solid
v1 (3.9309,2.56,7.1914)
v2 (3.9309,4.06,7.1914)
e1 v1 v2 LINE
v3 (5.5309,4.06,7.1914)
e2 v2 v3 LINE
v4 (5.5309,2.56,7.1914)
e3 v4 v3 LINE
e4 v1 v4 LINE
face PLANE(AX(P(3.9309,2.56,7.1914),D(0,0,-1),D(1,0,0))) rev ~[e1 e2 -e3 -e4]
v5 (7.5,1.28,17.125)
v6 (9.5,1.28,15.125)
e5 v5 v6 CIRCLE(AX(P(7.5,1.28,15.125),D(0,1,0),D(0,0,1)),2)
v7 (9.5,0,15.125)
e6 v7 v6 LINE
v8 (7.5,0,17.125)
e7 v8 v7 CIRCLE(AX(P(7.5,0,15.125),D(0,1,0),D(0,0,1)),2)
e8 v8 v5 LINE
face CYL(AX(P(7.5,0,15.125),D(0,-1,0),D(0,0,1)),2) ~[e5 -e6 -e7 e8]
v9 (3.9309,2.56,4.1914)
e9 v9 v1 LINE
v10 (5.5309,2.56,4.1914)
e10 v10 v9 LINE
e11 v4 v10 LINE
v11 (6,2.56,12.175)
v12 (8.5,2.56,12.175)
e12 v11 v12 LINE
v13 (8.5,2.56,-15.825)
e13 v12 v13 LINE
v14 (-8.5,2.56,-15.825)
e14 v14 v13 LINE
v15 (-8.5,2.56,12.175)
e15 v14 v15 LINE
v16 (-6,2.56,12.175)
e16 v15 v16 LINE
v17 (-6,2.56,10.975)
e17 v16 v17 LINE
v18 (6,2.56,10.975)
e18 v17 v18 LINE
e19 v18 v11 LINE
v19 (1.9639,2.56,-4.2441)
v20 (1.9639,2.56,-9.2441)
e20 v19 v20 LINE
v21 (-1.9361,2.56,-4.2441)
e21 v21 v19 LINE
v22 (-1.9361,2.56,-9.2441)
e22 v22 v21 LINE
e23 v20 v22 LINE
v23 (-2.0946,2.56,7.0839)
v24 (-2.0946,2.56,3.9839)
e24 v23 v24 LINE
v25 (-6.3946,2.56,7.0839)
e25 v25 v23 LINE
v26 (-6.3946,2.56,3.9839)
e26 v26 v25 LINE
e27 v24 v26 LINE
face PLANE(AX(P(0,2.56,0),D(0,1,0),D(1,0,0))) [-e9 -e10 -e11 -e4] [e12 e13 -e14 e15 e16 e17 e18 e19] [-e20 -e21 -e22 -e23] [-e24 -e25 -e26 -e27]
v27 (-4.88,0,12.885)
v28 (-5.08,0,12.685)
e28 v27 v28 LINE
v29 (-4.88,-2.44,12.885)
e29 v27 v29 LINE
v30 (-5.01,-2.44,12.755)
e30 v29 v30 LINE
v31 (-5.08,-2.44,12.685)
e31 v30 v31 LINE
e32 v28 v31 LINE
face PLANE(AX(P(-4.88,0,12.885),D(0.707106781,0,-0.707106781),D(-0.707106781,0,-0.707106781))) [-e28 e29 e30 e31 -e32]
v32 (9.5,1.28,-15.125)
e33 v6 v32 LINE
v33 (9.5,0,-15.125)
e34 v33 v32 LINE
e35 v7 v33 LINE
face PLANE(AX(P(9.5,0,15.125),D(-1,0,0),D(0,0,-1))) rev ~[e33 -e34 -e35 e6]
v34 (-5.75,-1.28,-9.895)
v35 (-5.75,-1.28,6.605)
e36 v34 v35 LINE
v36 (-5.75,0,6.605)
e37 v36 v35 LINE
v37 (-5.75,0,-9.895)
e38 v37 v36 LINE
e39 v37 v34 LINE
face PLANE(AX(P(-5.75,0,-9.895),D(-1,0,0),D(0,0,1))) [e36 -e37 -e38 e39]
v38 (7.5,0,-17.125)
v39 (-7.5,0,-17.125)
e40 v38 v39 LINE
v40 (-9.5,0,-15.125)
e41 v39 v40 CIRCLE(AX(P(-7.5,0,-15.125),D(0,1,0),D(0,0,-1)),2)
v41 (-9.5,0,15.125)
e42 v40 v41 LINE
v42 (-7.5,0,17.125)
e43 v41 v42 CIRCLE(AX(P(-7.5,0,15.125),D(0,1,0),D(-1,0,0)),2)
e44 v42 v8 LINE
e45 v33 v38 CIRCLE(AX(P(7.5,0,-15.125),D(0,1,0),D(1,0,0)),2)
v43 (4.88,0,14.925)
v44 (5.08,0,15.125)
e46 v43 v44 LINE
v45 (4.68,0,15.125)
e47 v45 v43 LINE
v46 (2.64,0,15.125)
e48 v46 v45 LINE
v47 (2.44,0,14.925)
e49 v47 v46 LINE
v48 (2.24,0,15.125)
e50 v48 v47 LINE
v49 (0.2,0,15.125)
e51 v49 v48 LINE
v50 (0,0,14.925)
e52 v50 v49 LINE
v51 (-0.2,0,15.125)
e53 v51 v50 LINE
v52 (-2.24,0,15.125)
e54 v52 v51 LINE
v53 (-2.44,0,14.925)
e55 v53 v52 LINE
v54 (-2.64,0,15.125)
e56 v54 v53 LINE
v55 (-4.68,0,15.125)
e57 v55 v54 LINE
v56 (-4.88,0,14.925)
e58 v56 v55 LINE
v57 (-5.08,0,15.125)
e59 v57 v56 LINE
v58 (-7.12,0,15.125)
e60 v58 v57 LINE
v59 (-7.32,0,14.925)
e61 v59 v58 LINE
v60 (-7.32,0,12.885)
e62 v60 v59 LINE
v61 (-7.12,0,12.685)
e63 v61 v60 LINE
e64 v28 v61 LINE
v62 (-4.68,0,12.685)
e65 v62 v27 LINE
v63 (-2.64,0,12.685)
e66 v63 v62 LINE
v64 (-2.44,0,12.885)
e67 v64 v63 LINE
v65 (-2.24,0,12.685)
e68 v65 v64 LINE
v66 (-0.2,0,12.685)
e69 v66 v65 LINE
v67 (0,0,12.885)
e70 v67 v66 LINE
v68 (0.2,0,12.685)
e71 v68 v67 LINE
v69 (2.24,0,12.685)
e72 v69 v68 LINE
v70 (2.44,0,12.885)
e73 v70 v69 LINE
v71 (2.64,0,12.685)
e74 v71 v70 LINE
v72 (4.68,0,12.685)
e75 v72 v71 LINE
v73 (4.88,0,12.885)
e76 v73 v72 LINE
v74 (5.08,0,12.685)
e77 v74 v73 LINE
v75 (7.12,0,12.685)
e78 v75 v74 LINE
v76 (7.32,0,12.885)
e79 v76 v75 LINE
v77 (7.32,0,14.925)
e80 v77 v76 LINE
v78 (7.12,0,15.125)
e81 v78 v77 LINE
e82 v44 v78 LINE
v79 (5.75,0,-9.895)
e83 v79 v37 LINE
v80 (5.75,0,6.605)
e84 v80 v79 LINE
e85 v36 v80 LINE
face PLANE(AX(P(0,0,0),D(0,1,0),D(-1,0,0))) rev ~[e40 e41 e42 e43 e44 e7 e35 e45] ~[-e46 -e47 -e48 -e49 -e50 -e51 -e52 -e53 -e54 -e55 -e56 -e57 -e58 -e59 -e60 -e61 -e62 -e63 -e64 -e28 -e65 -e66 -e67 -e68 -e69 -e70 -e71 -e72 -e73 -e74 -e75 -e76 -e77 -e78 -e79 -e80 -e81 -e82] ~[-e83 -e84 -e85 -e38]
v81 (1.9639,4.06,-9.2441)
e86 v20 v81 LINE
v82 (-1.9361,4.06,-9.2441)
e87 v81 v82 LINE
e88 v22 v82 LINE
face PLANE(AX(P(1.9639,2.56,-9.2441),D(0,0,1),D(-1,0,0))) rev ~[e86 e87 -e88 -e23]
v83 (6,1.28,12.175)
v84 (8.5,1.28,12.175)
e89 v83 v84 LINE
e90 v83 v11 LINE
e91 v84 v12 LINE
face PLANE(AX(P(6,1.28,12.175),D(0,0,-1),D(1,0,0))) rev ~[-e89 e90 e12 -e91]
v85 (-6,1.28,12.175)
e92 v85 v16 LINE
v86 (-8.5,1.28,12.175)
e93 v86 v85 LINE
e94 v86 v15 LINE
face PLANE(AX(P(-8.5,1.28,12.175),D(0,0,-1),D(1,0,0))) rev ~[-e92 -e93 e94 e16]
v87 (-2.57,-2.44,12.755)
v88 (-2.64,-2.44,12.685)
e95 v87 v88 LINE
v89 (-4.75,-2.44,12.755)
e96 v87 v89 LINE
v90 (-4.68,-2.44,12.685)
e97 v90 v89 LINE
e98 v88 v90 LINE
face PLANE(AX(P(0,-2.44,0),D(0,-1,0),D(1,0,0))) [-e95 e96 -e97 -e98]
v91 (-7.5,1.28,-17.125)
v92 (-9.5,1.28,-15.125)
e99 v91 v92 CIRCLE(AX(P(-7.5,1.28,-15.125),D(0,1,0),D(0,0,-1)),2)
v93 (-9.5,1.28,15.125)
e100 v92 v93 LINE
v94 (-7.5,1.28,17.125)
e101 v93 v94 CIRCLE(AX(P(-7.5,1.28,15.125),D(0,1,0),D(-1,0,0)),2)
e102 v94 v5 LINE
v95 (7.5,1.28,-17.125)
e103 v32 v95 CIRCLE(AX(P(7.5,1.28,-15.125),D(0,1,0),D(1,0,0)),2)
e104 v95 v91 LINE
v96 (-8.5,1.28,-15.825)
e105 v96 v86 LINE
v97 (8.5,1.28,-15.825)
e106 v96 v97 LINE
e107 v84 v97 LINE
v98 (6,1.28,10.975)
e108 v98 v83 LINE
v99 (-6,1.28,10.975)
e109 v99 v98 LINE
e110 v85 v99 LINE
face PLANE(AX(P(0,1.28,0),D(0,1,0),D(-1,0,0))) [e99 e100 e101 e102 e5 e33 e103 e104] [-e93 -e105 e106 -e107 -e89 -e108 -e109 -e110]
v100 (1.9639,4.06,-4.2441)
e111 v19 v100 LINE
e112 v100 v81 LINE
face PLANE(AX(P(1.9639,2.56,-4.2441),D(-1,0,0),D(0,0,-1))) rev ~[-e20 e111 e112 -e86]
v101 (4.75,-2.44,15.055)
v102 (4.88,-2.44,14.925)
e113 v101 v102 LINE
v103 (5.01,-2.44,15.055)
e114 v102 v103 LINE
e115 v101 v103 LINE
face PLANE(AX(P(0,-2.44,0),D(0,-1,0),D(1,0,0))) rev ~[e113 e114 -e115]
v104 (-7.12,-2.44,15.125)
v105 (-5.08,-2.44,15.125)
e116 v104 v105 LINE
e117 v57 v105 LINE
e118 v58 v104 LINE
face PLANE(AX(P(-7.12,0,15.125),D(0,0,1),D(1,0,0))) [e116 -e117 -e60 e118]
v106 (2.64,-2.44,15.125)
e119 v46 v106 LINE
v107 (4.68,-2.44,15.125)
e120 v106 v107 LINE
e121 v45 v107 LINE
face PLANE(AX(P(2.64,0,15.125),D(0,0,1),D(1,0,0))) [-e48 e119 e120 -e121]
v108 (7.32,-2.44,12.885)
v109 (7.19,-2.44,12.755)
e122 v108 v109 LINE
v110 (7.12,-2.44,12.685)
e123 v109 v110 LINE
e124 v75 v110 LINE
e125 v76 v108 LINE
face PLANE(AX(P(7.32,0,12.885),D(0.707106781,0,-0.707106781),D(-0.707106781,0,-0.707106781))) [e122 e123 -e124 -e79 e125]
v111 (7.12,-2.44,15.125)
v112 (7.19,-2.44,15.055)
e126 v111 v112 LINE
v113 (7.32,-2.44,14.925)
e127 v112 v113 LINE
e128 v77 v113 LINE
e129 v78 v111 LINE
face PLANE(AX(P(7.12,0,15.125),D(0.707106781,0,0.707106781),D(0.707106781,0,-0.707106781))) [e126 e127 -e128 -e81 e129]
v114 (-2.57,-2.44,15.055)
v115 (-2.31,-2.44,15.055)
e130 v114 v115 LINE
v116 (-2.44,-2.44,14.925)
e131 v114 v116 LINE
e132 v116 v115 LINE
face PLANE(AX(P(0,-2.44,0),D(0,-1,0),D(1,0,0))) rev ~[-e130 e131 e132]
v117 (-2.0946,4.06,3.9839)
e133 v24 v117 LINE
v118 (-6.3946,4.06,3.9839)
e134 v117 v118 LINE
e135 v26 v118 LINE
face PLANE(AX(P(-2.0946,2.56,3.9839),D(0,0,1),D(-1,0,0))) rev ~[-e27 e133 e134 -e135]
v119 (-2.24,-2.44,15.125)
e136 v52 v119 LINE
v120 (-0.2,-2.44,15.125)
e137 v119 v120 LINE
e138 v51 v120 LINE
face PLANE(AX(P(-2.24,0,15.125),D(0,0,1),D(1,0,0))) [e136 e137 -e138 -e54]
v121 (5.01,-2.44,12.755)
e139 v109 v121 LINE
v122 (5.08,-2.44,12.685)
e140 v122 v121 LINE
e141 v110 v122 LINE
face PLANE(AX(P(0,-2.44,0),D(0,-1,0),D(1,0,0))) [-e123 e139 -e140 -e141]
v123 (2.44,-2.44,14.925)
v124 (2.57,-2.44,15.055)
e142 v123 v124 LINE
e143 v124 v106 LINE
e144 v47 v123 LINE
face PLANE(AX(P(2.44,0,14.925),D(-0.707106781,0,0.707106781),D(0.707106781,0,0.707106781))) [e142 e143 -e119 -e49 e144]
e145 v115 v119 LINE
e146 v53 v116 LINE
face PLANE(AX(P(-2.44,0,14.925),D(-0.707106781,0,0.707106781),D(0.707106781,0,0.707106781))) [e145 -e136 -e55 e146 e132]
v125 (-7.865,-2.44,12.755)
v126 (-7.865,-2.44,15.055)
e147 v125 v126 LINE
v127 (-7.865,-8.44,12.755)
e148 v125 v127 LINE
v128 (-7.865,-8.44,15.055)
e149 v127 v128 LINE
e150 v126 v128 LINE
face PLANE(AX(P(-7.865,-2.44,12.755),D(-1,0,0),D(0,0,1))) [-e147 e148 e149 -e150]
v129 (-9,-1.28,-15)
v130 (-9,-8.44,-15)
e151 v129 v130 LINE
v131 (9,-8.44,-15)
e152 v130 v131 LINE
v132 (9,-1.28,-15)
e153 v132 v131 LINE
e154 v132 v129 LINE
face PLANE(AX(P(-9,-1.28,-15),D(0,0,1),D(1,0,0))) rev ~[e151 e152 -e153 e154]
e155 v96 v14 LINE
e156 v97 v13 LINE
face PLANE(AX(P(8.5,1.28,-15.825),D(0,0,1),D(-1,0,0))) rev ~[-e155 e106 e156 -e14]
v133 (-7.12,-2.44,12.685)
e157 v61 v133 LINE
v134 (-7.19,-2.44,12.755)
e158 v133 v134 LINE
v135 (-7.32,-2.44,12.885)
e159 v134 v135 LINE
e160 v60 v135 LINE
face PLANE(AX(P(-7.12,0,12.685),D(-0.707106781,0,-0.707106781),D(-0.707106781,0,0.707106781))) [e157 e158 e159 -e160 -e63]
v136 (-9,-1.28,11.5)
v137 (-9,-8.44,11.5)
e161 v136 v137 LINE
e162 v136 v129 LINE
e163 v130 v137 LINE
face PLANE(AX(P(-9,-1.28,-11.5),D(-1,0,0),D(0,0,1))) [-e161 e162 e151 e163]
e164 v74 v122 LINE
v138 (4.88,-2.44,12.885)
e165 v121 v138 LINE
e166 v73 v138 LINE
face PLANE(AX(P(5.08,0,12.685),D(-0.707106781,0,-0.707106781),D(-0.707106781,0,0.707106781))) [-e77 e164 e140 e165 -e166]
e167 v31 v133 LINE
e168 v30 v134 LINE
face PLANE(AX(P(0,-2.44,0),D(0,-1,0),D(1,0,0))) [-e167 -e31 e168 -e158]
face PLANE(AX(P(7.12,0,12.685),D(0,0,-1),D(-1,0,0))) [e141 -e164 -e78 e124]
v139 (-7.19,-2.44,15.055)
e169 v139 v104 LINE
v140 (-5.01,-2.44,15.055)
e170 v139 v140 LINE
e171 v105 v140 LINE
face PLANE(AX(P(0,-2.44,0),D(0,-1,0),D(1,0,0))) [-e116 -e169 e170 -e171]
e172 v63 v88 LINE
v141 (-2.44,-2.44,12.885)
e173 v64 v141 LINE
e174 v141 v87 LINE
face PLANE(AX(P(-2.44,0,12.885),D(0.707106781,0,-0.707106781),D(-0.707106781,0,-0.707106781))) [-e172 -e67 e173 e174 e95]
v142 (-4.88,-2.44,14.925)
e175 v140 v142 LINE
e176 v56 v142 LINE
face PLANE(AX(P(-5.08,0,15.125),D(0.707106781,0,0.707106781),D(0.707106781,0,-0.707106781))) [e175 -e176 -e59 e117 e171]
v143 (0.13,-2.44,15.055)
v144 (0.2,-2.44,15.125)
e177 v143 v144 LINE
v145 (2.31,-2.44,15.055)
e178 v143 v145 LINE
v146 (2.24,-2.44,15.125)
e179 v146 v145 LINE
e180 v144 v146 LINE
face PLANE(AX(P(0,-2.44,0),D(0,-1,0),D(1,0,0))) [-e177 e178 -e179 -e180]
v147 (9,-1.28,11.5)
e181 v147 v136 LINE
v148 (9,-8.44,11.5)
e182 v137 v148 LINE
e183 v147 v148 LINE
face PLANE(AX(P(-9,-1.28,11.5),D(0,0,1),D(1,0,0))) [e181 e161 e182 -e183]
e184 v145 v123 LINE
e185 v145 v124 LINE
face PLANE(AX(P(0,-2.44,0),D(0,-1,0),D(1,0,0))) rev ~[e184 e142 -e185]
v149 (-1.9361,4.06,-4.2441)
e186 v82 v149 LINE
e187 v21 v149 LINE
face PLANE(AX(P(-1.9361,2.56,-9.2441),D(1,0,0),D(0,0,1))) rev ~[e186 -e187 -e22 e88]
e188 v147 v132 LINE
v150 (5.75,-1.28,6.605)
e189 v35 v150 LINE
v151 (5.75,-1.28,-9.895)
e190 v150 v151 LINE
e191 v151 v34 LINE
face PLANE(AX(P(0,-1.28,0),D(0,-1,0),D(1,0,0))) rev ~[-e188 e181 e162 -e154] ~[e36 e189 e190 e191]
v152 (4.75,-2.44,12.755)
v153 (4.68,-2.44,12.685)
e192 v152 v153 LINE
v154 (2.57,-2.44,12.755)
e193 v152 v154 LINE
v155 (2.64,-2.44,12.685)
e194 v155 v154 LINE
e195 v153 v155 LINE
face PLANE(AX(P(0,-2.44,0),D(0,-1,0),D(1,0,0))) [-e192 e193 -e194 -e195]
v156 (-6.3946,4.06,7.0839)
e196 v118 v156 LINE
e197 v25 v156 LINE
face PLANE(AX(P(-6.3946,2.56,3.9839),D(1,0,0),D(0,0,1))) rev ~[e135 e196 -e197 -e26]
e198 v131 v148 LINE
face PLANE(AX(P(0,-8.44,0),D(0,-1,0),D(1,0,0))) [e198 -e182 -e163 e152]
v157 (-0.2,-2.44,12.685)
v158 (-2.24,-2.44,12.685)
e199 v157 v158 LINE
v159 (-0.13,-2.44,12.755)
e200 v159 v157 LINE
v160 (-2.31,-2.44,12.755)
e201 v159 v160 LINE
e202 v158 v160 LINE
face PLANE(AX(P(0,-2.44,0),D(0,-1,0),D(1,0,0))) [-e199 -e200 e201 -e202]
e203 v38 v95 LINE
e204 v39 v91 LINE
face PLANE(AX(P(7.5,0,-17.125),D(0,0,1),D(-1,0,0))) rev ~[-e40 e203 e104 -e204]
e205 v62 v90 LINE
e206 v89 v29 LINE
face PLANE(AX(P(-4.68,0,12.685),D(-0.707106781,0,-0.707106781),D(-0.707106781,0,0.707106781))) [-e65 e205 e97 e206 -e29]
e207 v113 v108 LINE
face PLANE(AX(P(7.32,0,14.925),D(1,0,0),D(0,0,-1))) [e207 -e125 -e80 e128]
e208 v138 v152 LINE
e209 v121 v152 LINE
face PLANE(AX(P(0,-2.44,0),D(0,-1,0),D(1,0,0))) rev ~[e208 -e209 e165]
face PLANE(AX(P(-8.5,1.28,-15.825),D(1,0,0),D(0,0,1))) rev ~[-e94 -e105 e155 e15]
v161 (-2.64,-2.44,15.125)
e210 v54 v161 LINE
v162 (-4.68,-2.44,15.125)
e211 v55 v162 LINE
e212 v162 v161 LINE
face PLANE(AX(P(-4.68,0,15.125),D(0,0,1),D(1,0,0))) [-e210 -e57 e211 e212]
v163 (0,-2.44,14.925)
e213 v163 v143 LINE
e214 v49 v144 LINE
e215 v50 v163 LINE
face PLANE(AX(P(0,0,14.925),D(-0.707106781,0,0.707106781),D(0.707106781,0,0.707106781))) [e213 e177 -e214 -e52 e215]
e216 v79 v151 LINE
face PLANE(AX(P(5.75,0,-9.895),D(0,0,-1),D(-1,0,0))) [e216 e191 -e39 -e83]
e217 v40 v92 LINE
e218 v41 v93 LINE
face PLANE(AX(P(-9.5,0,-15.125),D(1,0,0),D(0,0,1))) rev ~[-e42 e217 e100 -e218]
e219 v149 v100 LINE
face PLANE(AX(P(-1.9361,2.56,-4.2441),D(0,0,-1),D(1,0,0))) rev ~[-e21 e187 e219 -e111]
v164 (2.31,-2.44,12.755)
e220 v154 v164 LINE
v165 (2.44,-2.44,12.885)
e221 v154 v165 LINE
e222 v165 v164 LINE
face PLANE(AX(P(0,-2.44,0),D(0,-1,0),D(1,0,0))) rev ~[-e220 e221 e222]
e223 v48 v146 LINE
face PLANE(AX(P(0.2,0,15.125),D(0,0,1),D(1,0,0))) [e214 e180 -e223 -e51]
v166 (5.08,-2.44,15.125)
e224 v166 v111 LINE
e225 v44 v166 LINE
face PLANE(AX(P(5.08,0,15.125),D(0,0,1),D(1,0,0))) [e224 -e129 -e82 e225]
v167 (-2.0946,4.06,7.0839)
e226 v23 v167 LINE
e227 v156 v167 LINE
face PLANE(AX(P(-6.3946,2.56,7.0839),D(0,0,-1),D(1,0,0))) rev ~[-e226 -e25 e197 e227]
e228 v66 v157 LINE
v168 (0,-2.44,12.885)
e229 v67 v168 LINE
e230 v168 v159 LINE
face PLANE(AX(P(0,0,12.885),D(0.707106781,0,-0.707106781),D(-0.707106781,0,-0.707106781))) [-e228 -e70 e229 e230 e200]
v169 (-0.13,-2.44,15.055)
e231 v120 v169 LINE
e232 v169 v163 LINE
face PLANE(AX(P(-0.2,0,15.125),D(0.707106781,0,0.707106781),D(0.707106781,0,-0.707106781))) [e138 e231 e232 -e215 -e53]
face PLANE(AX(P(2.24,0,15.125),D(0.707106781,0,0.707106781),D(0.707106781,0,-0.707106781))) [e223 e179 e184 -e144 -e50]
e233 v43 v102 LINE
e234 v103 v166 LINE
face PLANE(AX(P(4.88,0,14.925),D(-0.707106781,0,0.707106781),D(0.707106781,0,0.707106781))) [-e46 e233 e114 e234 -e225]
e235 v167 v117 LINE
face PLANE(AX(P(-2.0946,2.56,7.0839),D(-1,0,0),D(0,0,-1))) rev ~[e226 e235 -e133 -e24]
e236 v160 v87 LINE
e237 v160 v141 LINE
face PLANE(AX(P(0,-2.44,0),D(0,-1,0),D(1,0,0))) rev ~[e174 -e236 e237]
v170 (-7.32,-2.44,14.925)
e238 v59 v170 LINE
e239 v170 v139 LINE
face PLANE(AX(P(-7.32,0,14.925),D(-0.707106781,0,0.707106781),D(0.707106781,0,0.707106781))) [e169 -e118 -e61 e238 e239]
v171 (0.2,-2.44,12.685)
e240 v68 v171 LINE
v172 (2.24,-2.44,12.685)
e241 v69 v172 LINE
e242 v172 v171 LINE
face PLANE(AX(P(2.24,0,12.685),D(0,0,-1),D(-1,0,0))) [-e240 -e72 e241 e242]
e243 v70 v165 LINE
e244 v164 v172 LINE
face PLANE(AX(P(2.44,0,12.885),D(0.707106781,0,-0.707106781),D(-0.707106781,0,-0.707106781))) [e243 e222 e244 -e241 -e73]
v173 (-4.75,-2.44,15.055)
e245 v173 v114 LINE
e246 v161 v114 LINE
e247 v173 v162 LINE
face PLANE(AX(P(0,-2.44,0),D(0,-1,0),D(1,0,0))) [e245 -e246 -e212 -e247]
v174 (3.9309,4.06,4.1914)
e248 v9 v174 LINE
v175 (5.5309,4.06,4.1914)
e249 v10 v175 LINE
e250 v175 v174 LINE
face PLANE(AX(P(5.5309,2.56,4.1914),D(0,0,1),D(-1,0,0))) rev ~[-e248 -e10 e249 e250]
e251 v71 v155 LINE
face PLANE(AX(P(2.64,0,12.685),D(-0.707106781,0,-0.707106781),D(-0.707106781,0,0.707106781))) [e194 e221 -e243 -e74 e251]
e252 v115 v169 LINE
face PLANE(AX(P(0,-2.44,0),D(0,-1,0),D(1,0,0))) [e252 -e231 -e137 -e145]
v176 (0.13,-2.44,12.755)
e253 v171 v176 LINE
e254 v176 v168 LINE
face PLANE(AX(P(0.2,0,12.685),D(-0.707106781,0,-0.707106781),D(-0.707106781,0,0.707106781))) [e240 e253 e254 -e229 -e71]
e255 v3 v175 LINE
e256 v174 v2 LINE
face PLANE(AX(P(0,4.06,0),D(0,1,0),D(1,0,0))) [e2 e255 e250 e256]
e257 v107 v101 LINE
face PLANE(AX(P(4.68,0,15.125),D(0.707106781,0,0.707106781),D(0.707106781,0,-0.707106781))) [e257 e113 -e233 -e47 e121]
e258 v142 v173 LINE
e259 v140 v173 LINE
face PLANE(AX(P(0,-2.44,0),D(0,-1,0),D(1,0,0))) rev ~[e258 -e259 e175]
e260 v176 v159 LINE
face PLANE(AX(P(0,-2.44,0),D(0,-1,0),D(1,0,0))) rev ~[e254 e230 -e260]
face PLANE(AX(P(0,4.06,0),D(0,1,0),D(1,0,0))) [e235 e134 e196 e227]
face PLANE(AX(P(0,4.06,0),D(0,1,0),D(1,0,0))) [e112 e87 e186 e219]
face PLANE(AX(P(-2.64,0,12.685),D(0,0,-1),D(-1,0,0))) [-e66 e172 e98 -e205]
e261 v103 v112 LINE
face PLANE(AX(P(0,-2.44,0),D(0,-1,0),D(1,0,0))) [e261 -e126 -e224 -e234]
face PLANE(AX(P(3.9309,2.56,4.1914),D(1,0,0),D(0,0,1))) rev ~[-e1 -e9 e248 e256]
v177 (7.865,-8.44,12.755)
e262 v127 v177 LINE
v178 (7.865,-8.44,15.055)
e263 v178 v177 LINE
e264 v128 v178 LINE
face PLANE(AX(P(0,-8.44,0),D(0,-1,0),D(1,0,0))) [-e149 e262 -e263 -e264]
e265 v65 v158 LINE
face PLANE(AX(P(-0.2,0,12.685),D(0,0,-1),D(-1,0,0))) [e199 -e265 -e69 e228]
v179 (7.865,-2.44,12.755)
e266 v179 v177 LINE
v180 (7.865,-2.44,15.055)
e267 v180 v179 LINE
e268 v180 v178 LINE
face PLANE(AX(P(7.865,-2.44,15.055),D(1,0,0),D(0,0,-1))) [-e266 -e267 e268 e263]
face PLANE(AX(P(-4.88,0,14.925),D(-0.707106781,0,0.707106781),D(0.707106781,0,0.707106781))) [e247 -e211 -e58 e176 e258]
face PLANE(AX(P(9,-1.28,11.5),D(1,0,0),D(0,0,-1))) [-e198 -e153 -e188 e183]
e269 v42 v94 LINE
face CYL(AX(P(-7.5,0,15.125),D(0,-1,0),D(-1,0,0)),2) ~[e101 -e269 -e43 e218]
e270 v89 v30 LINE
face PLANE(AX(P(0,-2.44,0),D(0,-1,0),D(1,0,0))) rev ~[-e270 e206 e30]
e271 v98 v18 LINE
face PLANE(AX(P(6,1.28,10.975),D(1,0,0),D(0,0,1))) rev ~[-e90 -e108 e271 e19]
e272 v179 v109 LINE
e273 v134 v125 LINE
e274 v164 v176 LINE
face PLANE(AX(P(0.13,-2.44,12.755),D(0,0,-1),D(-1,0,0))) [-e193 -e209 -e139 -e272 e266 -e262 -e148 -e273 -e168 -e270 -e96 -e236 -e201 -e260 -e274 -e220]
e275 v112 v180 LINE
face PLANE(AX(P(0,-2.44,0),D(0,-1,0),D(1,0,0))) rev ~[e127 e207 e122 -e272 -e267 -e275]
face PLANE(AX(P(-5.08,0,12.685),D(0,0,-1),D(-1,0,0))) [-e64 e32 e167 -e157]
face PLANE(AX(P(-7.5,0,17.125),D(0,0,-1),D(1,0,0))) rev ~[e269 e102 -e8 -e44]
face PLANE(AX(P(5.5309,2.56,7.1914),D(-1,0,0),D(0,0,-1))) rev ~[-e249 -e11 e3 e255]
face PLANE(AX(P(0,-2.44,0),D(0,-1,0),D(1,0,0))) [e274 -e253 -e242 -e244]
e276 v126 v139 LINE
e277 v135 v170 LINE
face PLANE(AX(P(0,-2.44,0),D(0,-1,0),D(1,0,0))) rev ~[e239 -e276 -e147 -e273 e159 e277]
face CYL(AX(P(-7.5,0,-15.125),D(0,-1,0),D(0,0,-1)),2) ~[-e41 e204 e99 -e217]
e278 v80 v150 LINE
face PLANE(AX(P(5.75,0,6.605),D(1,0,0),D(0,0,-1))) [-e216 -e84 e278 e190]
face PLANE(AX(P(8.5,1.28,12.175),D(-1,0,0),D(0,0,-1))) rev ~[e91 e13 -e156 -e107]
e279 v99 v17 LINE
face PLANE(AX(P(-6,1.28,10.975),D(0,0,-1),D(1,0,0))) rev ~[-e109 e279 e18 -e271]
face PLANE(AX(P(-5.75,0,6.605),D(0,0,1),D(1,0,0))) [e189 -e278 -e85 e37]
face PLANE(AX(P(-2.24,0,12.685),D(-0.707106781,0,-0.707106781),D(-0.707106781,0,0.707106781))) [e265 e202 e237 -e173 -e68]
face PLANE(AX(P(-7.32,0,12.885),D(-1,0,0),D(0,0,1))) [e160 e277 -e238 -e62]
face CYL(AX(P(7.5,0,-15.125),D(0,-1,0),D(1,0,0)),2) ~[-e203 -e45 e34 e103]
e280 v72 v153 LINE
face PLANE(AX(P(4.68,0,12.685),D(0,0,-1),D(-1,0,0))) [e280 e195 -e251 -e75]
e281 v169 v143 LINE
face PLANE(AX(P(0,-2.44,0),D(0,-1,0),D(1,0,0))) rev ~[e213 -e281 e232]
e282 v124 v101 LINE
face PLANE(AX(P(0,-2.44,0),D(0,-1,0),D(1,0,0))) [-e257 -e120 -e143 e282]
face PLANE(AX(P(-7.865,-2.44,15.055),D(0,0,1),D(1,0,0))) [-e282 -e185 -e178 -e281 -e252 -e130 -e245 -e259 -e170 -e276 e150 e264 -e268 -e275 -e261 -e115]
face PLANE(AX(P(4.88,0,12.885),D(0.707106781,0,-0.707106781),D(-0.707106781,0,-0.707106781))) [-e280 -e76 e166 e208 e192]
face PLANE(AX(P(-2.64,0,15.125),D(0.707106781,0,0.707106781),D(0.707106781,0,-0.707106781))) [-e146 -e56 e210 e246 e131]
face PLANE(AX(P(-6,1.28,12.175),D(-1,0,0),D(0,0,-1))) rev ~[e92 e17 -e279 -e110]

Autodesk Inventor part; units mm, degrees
ref_plane "YZ Plane" through (0, 0, 0) normal (1, 0, 0) x (0, 1, 0)
ref_plane "XZ Plane" through (0, 0, 0) normal (0, 1, 0) x (-1, 0, 0)
sketch "Sketch1" plane through (0, 0, 0) normal (0, 1, 0) x (-1, 0, 0)
  line L0 (7.5, 17.125) -> (-7.5, 17.125)
  line L1 (-9.5, 15.125) -> (-9.5, -15.125)
  line L2 (-7.5, -17.125) -> (7.5, -17.125)
  line L3 (9.5, -15.125) -> (9.5, 15.125)
  line L4 (9.5, 17.125) -> (-9.5, -17.125) construction
  line L5 (-9.5, 17.125) -> (9.5, -17.125) construction
  arc A0 (7.5, -17.125) -> (9.5, -15.125) centre (7.5, -15.125) ccw
  arc A1 (-9.5, -15.125) -> (-7.5, -17.125) centre (-7.5, -15.125) ccw
  arc A2 (-7.5, 17.125) -> (-9.5, 15.125) centre (-7.5, 15.125) ccw
  arc A3 (9.5, 15.125) -> (7.5, 17.125) centre (7.5, 15.125) ccw
  point P0 (0, 0)
  dimension "d0" = 19
  dimension "d1" = 34.25
  dimension "d2" = 2
extrude "Extrusion1" add sketch "Sketch1" along normal blind 1.28
sketch "Sketch2" plane through (0, 1.28, 0) normal (0, 1, 0) x (1, 0, 0)
  line L0 (8.5, -12.175) -> (8.5, 15.825)
  line L1 (8.5, 15.825) -> (-8.5, 15.825)
  line L2 (-8.5, 15.825) -> (-8.5, -12.175)
  line L3 (-8.5, -12.175) -> (8.5, 15.825) construction
  line L4 (8.5, -12.175) -> (-8.5, 15.825) construction
  line L5 (7.5, 17.125) -> (-7.5, 17.125) projected
  line L6 (0, 17.125) -> (0, 15.825)
  line L7 (-6, -10.975) -> (6, -10.975)
  line L8 (6, -10.975) -> (6, -12.175)
  line L9 (-6, -12.175) -> (-6, -10.975)
  line L10 (-8.5, -12.175) -> (-6, -12.175)
  line L11 (6, -12.175) -> (8.5, -12.175)
  point P0 (0, 0)
  point P1 (0, 15.825)
  dimension "d5" = 17
  dimension "d6" = 28
  dimension "d7" = 1.3
  dimension "d9" = 1.2
extrude "Extrusion2" add sketch "Sketch2" along normal blind 1.28
sketch "Sketch3" plane through (0, 0, 0) normal (0, -1, 0) x (1, 0, 0)
  line L0 (5.75, -9.895) -> (-5.75, -9.895)
  line L1 (-5.75, -9.895) -> (-5.75, 6.605)
  line L2 (-5.75, 6.605) -> (5.75, 6.605)
  line L3 (5.75, 6.605) -> (5.75, -9.895)
  line L4 (7.5, -17.125) -> (-7.5, -17.125) projected
  line L5 (0, -17.125) -> (0, -9.895)
  point P0 (0, 0)
  point P1 (0, -9.895)
  dimension "d12" = 11.5
  dimension "d13" = 16.5
  dimension "d14" = 7.23
extrude "Extrusion3" add sketch "Sketch3" along normal blind 1.28
sketch "Sketch4" plane through (0, 0, 0) normal (0, -1, 0) x (1, 0, 0)
  line L0 (-7.5, 17.125) -> (7.5, 17.125) projected
  line L1 (0, 17.125) -> (0, 15.125)
  line L2 (0.2, 15.125) -> (2.24, 15.125)
  line L3 (2.44, 14.925) -> (2.44, 12.885)
  line L4 (2.24, 12.685) -> (0.2, 12.685)
  line L5 (0, 12.885) -> (0, 14.925)
  line L6 (0, 14.925) -> (0.2, 15.125)
  line L7 (2.24, 15.125) -> (2.44, 14.925)
  line L8 (2.44, 12.885) -> (2.24, 12.685)
  line L9 (0.2, 12.685) -> (0, 12.885)
  line L10 (2.64, 15.125) -> (4.68, 15.125)
  line L11 (4.88, 14.925) -> (4.88, 12.885)
  line L12 (4.68, 12.685) -> (2.64, 12.685)
  line L13 (2.44, 12.885) -> (2.44, 14.925)
  line L14 (2.44, 14.925) -> (2.64, 15.125)
  line L15 (4.68, 15.125) -> (4.88, 14.925)
  line L16 (4.88, 12.885) -> (4.68, 12.685)
  line L17 (2.64, 12.685) -> (2.44, 12.885)
  line L18 (5.08, 15.125) -> (7.12, 15.125)
  line L19 (7.32, 14.925) -> (7.32, 12.885)
  line L20 (7.12, 12.685) -> (5.08, 12.685)
  line L21 (4.88, 12.885) -> (4.88, 14.925)
  line L22 (4.88, 14.925) -> (5.08, 15.125)
  line L23 (7.12, 15.125) -> (7.32, 14.925)
  line L24 (7.32, 12.885) -> (7.12, 12.685)
  line L25 (5.08, 12.685) -> (4.88, 12.885)
  line L26 (-2.24, 15.125) -> (-0.2, 15.125)
  line L27 (0, 14.925) -> (0, 12.885)
  line L28 (-0.2, 12.685) -> (-2.24, 12.685)
  line L29 (-2.44, 12.885) -> (-2.44, 14.925)
  line L30 (-2.44, 14.925) -> (-2.24, 15.125)
  line L31 (-0.2, 15.125) -> (0, 14.925)
  line L32 (0, 12.885) -> (-0.2, 12.685)
  line L33 (-2.24, 12.685) -> (-2.44, 12.885)
  line L34 (-4.68, 15.125) -> (-2.64, 15.125)
  line L35 (-2.44, 14.925) -> (-2.44, 12.885)
  line L36 (-2.64, 12.685) -> (-4.68, 12.685)
  line L37 (-4.88, 12.885) -> (-4.88, 14.925)
  line L38 (-4.88, 14.925) -> (-4.68, 15.125)
  line L39 (-2.64, 15.125) -> (-2.44, 14.925)
  line L40 (-2.44, 12.885) -> (-2.64, 12.685)
  line L41 (-4.68, 12.685) -> (-4.88, 12.885)
  line L42 (-7.12, 15.125) -> (-5.08, 15.125)
  line L43 (-4.88, 14.925) -> (-4.88, 12.885)
  line L44 (-5.08, 12.685) -> (-7.12, 12.685)
  line L45 (-7.32, 12.885) -> (-7.32, 14.925)
  line L46 (-7.32, 14.925) -> (-7.12, 15.125)
  line L47 (-5.08, 15.125) -> (-4.88, 14.925)
  line L48 (-4.88, 12.885) -> (-5.08, 12.685)
  line L49 (-7.12, 12.685) -> (-7.32, 12.885)
  point P0 (0, 0)
  point P1 (2.44, 12.685)
  point P2 (2.44, 15.125)
  point P3 (0, 12.685)
  point P4 (2.44, 15.125)
  point P5 (4.88, 12.685)
  point P6 (4.88, 15.125)
  point P7 (2.44, 12.685)
  point P8 (4.88, 15.125)
  point P9 (7.32, 12.685)
  point P10 (7.32, 15.125)
  point P11 (4.88, 12.685)
  point P12 (-2.44, 15.125)
  point P13 (0, 12.685)
  point P14 (-2.44, 12.685)
  point P15 (-4.88, 15.125)
  point P16 (-2.44, 12.685)
  point P17 (-2.44, 15.125)
  point P18 (-4.88, 12.685)
  point P19 (-7.32, 15.125)
  point P20 (-4.88, 12.685)
  point P21 (-4.88, 15.125)
  point P22 (-7.32, 12.685)
  dimension "d27" = 2
extrude "Extrusion4" add sketch "Sketch4" along normal blind 2.44
sketch "Sketch5" plane through (0, -2.44, 0) normal (0, -1, 0) x (1, 0, 0)
  line L0 (-7.865, 15.055) -> (7.865, 15.055)
  line L1 (7.865, 15.055) -> (7.865, 12.755)
  line L2 (7.865, 12.755) -> (-7.865, 12.755)
  line L3 (-7.865, 12.755) -> (-7.865, 15.055)
  line L4 (0.2, 12.685) -> (0, 12.885) projected
  line L5 (0, 14.925) -> (0, 12.885)
  point P0 (0, 0)
  point P1 (0, 13.905)
  point P2 (0, 13.905)
  dimension "d30" = 15.73
  dimension "d31" = 2.3
extrude "Extrusion5" add sketch "Sketch5" along normal blind 6
sketch "Sketch6" plane through (0, 2.56, 0) normal (0, 1, 0) x (1, 0, 0)
  line L0 (-1.9361, 4.2441) -> (1.9639, 4.2441)
  line L1 (1.9639, 4.2441) -> (1.9639, 9.2441)
  line L2 (1.9639, 9.2441) -> (-1.9361, 9.2441)
  line L3 (-1.9361, 9.2441) -> (-1.9361, 4.2441)
  line L4 (-6.3946, -7.0839) -> (-2.0946, -7.0839)
  line L5 (-2.0946, -7.0839) -> (-2.0946, -3.9839)
  line L6 (-2.0946, -3.9839) -> (-6.3946, -3.9839)
  line L7 (-6.3946, -3.9839) -> (-6.3946, -7.0839)
  line L8 (3.9309, -7.1914) -> (5.5309, -7.1914)
  line L9 (5.5309, -7.1914) -> (5.5309, -4.1914)
  line L10 (5.5309, -4.1914) -> (3.9309, -4.1914)
  line L11 (3.9309, -4.1914) -> (3.9309, -7.1914)
  line L12 (8.5, 15.825) -> (-8.5, 15.825) projected
  point P0 (0, 0)
  point P1 (3.9309, -5.6914)
  point P2 (0, 15.825)
  point P3 (0.0139, 9.2441)
  point P4 (-2.0946, -5.5339)
  dimension "d34" = 3.9
  dimension "d35" = 5
  dimension "d36" = 4.3
  dimension "d37" = 3.1
  dimension "d38" = 1.6
  dimension "d39" = 3
extrude "Extrusion6" add sketch "Sketch6" along normal blind 1.5
sketch "Sketch7" plane through (0, -1.28, 0) normal (0, -1, 0) x (1, 0, 0)
  line L0 (-9, 11.5) -> (9, 11.5)
  line L1 (9, 11.5) -> (9, -11.5)
  line L2 (-8.5, -11.5) -> (-9, -11.5)
  line L3 (-9, -11.5) -> (-9, 11.5)
  line L4 (-9, -11.5) -> (-9, -15)
  line L5 (-8.5, -15.825) -> (-8.5, 12.175) projected
  line L6 (-9, -11.5) -> (-5.5, -11.5) construction
  line L7 (-9, -15) -> (9, -15)
  line L8 (9, -15) -> (9, -11.5)
  dimension "d42" = 18
  dimension "d43" = 23
  dimension "d46" = 3.5
  dimension "d47" = 90
  dimension "d48" = 90
ref_plane "Work Plane1" through (-19.708, -8.44, -77.2303) normal (0, 1, 0) x (0, 0, 1)
extrude "Extrusion7" add sketch "Sketch7" along normal up to surface (7.16 mm away)
properties part number "BMS"
